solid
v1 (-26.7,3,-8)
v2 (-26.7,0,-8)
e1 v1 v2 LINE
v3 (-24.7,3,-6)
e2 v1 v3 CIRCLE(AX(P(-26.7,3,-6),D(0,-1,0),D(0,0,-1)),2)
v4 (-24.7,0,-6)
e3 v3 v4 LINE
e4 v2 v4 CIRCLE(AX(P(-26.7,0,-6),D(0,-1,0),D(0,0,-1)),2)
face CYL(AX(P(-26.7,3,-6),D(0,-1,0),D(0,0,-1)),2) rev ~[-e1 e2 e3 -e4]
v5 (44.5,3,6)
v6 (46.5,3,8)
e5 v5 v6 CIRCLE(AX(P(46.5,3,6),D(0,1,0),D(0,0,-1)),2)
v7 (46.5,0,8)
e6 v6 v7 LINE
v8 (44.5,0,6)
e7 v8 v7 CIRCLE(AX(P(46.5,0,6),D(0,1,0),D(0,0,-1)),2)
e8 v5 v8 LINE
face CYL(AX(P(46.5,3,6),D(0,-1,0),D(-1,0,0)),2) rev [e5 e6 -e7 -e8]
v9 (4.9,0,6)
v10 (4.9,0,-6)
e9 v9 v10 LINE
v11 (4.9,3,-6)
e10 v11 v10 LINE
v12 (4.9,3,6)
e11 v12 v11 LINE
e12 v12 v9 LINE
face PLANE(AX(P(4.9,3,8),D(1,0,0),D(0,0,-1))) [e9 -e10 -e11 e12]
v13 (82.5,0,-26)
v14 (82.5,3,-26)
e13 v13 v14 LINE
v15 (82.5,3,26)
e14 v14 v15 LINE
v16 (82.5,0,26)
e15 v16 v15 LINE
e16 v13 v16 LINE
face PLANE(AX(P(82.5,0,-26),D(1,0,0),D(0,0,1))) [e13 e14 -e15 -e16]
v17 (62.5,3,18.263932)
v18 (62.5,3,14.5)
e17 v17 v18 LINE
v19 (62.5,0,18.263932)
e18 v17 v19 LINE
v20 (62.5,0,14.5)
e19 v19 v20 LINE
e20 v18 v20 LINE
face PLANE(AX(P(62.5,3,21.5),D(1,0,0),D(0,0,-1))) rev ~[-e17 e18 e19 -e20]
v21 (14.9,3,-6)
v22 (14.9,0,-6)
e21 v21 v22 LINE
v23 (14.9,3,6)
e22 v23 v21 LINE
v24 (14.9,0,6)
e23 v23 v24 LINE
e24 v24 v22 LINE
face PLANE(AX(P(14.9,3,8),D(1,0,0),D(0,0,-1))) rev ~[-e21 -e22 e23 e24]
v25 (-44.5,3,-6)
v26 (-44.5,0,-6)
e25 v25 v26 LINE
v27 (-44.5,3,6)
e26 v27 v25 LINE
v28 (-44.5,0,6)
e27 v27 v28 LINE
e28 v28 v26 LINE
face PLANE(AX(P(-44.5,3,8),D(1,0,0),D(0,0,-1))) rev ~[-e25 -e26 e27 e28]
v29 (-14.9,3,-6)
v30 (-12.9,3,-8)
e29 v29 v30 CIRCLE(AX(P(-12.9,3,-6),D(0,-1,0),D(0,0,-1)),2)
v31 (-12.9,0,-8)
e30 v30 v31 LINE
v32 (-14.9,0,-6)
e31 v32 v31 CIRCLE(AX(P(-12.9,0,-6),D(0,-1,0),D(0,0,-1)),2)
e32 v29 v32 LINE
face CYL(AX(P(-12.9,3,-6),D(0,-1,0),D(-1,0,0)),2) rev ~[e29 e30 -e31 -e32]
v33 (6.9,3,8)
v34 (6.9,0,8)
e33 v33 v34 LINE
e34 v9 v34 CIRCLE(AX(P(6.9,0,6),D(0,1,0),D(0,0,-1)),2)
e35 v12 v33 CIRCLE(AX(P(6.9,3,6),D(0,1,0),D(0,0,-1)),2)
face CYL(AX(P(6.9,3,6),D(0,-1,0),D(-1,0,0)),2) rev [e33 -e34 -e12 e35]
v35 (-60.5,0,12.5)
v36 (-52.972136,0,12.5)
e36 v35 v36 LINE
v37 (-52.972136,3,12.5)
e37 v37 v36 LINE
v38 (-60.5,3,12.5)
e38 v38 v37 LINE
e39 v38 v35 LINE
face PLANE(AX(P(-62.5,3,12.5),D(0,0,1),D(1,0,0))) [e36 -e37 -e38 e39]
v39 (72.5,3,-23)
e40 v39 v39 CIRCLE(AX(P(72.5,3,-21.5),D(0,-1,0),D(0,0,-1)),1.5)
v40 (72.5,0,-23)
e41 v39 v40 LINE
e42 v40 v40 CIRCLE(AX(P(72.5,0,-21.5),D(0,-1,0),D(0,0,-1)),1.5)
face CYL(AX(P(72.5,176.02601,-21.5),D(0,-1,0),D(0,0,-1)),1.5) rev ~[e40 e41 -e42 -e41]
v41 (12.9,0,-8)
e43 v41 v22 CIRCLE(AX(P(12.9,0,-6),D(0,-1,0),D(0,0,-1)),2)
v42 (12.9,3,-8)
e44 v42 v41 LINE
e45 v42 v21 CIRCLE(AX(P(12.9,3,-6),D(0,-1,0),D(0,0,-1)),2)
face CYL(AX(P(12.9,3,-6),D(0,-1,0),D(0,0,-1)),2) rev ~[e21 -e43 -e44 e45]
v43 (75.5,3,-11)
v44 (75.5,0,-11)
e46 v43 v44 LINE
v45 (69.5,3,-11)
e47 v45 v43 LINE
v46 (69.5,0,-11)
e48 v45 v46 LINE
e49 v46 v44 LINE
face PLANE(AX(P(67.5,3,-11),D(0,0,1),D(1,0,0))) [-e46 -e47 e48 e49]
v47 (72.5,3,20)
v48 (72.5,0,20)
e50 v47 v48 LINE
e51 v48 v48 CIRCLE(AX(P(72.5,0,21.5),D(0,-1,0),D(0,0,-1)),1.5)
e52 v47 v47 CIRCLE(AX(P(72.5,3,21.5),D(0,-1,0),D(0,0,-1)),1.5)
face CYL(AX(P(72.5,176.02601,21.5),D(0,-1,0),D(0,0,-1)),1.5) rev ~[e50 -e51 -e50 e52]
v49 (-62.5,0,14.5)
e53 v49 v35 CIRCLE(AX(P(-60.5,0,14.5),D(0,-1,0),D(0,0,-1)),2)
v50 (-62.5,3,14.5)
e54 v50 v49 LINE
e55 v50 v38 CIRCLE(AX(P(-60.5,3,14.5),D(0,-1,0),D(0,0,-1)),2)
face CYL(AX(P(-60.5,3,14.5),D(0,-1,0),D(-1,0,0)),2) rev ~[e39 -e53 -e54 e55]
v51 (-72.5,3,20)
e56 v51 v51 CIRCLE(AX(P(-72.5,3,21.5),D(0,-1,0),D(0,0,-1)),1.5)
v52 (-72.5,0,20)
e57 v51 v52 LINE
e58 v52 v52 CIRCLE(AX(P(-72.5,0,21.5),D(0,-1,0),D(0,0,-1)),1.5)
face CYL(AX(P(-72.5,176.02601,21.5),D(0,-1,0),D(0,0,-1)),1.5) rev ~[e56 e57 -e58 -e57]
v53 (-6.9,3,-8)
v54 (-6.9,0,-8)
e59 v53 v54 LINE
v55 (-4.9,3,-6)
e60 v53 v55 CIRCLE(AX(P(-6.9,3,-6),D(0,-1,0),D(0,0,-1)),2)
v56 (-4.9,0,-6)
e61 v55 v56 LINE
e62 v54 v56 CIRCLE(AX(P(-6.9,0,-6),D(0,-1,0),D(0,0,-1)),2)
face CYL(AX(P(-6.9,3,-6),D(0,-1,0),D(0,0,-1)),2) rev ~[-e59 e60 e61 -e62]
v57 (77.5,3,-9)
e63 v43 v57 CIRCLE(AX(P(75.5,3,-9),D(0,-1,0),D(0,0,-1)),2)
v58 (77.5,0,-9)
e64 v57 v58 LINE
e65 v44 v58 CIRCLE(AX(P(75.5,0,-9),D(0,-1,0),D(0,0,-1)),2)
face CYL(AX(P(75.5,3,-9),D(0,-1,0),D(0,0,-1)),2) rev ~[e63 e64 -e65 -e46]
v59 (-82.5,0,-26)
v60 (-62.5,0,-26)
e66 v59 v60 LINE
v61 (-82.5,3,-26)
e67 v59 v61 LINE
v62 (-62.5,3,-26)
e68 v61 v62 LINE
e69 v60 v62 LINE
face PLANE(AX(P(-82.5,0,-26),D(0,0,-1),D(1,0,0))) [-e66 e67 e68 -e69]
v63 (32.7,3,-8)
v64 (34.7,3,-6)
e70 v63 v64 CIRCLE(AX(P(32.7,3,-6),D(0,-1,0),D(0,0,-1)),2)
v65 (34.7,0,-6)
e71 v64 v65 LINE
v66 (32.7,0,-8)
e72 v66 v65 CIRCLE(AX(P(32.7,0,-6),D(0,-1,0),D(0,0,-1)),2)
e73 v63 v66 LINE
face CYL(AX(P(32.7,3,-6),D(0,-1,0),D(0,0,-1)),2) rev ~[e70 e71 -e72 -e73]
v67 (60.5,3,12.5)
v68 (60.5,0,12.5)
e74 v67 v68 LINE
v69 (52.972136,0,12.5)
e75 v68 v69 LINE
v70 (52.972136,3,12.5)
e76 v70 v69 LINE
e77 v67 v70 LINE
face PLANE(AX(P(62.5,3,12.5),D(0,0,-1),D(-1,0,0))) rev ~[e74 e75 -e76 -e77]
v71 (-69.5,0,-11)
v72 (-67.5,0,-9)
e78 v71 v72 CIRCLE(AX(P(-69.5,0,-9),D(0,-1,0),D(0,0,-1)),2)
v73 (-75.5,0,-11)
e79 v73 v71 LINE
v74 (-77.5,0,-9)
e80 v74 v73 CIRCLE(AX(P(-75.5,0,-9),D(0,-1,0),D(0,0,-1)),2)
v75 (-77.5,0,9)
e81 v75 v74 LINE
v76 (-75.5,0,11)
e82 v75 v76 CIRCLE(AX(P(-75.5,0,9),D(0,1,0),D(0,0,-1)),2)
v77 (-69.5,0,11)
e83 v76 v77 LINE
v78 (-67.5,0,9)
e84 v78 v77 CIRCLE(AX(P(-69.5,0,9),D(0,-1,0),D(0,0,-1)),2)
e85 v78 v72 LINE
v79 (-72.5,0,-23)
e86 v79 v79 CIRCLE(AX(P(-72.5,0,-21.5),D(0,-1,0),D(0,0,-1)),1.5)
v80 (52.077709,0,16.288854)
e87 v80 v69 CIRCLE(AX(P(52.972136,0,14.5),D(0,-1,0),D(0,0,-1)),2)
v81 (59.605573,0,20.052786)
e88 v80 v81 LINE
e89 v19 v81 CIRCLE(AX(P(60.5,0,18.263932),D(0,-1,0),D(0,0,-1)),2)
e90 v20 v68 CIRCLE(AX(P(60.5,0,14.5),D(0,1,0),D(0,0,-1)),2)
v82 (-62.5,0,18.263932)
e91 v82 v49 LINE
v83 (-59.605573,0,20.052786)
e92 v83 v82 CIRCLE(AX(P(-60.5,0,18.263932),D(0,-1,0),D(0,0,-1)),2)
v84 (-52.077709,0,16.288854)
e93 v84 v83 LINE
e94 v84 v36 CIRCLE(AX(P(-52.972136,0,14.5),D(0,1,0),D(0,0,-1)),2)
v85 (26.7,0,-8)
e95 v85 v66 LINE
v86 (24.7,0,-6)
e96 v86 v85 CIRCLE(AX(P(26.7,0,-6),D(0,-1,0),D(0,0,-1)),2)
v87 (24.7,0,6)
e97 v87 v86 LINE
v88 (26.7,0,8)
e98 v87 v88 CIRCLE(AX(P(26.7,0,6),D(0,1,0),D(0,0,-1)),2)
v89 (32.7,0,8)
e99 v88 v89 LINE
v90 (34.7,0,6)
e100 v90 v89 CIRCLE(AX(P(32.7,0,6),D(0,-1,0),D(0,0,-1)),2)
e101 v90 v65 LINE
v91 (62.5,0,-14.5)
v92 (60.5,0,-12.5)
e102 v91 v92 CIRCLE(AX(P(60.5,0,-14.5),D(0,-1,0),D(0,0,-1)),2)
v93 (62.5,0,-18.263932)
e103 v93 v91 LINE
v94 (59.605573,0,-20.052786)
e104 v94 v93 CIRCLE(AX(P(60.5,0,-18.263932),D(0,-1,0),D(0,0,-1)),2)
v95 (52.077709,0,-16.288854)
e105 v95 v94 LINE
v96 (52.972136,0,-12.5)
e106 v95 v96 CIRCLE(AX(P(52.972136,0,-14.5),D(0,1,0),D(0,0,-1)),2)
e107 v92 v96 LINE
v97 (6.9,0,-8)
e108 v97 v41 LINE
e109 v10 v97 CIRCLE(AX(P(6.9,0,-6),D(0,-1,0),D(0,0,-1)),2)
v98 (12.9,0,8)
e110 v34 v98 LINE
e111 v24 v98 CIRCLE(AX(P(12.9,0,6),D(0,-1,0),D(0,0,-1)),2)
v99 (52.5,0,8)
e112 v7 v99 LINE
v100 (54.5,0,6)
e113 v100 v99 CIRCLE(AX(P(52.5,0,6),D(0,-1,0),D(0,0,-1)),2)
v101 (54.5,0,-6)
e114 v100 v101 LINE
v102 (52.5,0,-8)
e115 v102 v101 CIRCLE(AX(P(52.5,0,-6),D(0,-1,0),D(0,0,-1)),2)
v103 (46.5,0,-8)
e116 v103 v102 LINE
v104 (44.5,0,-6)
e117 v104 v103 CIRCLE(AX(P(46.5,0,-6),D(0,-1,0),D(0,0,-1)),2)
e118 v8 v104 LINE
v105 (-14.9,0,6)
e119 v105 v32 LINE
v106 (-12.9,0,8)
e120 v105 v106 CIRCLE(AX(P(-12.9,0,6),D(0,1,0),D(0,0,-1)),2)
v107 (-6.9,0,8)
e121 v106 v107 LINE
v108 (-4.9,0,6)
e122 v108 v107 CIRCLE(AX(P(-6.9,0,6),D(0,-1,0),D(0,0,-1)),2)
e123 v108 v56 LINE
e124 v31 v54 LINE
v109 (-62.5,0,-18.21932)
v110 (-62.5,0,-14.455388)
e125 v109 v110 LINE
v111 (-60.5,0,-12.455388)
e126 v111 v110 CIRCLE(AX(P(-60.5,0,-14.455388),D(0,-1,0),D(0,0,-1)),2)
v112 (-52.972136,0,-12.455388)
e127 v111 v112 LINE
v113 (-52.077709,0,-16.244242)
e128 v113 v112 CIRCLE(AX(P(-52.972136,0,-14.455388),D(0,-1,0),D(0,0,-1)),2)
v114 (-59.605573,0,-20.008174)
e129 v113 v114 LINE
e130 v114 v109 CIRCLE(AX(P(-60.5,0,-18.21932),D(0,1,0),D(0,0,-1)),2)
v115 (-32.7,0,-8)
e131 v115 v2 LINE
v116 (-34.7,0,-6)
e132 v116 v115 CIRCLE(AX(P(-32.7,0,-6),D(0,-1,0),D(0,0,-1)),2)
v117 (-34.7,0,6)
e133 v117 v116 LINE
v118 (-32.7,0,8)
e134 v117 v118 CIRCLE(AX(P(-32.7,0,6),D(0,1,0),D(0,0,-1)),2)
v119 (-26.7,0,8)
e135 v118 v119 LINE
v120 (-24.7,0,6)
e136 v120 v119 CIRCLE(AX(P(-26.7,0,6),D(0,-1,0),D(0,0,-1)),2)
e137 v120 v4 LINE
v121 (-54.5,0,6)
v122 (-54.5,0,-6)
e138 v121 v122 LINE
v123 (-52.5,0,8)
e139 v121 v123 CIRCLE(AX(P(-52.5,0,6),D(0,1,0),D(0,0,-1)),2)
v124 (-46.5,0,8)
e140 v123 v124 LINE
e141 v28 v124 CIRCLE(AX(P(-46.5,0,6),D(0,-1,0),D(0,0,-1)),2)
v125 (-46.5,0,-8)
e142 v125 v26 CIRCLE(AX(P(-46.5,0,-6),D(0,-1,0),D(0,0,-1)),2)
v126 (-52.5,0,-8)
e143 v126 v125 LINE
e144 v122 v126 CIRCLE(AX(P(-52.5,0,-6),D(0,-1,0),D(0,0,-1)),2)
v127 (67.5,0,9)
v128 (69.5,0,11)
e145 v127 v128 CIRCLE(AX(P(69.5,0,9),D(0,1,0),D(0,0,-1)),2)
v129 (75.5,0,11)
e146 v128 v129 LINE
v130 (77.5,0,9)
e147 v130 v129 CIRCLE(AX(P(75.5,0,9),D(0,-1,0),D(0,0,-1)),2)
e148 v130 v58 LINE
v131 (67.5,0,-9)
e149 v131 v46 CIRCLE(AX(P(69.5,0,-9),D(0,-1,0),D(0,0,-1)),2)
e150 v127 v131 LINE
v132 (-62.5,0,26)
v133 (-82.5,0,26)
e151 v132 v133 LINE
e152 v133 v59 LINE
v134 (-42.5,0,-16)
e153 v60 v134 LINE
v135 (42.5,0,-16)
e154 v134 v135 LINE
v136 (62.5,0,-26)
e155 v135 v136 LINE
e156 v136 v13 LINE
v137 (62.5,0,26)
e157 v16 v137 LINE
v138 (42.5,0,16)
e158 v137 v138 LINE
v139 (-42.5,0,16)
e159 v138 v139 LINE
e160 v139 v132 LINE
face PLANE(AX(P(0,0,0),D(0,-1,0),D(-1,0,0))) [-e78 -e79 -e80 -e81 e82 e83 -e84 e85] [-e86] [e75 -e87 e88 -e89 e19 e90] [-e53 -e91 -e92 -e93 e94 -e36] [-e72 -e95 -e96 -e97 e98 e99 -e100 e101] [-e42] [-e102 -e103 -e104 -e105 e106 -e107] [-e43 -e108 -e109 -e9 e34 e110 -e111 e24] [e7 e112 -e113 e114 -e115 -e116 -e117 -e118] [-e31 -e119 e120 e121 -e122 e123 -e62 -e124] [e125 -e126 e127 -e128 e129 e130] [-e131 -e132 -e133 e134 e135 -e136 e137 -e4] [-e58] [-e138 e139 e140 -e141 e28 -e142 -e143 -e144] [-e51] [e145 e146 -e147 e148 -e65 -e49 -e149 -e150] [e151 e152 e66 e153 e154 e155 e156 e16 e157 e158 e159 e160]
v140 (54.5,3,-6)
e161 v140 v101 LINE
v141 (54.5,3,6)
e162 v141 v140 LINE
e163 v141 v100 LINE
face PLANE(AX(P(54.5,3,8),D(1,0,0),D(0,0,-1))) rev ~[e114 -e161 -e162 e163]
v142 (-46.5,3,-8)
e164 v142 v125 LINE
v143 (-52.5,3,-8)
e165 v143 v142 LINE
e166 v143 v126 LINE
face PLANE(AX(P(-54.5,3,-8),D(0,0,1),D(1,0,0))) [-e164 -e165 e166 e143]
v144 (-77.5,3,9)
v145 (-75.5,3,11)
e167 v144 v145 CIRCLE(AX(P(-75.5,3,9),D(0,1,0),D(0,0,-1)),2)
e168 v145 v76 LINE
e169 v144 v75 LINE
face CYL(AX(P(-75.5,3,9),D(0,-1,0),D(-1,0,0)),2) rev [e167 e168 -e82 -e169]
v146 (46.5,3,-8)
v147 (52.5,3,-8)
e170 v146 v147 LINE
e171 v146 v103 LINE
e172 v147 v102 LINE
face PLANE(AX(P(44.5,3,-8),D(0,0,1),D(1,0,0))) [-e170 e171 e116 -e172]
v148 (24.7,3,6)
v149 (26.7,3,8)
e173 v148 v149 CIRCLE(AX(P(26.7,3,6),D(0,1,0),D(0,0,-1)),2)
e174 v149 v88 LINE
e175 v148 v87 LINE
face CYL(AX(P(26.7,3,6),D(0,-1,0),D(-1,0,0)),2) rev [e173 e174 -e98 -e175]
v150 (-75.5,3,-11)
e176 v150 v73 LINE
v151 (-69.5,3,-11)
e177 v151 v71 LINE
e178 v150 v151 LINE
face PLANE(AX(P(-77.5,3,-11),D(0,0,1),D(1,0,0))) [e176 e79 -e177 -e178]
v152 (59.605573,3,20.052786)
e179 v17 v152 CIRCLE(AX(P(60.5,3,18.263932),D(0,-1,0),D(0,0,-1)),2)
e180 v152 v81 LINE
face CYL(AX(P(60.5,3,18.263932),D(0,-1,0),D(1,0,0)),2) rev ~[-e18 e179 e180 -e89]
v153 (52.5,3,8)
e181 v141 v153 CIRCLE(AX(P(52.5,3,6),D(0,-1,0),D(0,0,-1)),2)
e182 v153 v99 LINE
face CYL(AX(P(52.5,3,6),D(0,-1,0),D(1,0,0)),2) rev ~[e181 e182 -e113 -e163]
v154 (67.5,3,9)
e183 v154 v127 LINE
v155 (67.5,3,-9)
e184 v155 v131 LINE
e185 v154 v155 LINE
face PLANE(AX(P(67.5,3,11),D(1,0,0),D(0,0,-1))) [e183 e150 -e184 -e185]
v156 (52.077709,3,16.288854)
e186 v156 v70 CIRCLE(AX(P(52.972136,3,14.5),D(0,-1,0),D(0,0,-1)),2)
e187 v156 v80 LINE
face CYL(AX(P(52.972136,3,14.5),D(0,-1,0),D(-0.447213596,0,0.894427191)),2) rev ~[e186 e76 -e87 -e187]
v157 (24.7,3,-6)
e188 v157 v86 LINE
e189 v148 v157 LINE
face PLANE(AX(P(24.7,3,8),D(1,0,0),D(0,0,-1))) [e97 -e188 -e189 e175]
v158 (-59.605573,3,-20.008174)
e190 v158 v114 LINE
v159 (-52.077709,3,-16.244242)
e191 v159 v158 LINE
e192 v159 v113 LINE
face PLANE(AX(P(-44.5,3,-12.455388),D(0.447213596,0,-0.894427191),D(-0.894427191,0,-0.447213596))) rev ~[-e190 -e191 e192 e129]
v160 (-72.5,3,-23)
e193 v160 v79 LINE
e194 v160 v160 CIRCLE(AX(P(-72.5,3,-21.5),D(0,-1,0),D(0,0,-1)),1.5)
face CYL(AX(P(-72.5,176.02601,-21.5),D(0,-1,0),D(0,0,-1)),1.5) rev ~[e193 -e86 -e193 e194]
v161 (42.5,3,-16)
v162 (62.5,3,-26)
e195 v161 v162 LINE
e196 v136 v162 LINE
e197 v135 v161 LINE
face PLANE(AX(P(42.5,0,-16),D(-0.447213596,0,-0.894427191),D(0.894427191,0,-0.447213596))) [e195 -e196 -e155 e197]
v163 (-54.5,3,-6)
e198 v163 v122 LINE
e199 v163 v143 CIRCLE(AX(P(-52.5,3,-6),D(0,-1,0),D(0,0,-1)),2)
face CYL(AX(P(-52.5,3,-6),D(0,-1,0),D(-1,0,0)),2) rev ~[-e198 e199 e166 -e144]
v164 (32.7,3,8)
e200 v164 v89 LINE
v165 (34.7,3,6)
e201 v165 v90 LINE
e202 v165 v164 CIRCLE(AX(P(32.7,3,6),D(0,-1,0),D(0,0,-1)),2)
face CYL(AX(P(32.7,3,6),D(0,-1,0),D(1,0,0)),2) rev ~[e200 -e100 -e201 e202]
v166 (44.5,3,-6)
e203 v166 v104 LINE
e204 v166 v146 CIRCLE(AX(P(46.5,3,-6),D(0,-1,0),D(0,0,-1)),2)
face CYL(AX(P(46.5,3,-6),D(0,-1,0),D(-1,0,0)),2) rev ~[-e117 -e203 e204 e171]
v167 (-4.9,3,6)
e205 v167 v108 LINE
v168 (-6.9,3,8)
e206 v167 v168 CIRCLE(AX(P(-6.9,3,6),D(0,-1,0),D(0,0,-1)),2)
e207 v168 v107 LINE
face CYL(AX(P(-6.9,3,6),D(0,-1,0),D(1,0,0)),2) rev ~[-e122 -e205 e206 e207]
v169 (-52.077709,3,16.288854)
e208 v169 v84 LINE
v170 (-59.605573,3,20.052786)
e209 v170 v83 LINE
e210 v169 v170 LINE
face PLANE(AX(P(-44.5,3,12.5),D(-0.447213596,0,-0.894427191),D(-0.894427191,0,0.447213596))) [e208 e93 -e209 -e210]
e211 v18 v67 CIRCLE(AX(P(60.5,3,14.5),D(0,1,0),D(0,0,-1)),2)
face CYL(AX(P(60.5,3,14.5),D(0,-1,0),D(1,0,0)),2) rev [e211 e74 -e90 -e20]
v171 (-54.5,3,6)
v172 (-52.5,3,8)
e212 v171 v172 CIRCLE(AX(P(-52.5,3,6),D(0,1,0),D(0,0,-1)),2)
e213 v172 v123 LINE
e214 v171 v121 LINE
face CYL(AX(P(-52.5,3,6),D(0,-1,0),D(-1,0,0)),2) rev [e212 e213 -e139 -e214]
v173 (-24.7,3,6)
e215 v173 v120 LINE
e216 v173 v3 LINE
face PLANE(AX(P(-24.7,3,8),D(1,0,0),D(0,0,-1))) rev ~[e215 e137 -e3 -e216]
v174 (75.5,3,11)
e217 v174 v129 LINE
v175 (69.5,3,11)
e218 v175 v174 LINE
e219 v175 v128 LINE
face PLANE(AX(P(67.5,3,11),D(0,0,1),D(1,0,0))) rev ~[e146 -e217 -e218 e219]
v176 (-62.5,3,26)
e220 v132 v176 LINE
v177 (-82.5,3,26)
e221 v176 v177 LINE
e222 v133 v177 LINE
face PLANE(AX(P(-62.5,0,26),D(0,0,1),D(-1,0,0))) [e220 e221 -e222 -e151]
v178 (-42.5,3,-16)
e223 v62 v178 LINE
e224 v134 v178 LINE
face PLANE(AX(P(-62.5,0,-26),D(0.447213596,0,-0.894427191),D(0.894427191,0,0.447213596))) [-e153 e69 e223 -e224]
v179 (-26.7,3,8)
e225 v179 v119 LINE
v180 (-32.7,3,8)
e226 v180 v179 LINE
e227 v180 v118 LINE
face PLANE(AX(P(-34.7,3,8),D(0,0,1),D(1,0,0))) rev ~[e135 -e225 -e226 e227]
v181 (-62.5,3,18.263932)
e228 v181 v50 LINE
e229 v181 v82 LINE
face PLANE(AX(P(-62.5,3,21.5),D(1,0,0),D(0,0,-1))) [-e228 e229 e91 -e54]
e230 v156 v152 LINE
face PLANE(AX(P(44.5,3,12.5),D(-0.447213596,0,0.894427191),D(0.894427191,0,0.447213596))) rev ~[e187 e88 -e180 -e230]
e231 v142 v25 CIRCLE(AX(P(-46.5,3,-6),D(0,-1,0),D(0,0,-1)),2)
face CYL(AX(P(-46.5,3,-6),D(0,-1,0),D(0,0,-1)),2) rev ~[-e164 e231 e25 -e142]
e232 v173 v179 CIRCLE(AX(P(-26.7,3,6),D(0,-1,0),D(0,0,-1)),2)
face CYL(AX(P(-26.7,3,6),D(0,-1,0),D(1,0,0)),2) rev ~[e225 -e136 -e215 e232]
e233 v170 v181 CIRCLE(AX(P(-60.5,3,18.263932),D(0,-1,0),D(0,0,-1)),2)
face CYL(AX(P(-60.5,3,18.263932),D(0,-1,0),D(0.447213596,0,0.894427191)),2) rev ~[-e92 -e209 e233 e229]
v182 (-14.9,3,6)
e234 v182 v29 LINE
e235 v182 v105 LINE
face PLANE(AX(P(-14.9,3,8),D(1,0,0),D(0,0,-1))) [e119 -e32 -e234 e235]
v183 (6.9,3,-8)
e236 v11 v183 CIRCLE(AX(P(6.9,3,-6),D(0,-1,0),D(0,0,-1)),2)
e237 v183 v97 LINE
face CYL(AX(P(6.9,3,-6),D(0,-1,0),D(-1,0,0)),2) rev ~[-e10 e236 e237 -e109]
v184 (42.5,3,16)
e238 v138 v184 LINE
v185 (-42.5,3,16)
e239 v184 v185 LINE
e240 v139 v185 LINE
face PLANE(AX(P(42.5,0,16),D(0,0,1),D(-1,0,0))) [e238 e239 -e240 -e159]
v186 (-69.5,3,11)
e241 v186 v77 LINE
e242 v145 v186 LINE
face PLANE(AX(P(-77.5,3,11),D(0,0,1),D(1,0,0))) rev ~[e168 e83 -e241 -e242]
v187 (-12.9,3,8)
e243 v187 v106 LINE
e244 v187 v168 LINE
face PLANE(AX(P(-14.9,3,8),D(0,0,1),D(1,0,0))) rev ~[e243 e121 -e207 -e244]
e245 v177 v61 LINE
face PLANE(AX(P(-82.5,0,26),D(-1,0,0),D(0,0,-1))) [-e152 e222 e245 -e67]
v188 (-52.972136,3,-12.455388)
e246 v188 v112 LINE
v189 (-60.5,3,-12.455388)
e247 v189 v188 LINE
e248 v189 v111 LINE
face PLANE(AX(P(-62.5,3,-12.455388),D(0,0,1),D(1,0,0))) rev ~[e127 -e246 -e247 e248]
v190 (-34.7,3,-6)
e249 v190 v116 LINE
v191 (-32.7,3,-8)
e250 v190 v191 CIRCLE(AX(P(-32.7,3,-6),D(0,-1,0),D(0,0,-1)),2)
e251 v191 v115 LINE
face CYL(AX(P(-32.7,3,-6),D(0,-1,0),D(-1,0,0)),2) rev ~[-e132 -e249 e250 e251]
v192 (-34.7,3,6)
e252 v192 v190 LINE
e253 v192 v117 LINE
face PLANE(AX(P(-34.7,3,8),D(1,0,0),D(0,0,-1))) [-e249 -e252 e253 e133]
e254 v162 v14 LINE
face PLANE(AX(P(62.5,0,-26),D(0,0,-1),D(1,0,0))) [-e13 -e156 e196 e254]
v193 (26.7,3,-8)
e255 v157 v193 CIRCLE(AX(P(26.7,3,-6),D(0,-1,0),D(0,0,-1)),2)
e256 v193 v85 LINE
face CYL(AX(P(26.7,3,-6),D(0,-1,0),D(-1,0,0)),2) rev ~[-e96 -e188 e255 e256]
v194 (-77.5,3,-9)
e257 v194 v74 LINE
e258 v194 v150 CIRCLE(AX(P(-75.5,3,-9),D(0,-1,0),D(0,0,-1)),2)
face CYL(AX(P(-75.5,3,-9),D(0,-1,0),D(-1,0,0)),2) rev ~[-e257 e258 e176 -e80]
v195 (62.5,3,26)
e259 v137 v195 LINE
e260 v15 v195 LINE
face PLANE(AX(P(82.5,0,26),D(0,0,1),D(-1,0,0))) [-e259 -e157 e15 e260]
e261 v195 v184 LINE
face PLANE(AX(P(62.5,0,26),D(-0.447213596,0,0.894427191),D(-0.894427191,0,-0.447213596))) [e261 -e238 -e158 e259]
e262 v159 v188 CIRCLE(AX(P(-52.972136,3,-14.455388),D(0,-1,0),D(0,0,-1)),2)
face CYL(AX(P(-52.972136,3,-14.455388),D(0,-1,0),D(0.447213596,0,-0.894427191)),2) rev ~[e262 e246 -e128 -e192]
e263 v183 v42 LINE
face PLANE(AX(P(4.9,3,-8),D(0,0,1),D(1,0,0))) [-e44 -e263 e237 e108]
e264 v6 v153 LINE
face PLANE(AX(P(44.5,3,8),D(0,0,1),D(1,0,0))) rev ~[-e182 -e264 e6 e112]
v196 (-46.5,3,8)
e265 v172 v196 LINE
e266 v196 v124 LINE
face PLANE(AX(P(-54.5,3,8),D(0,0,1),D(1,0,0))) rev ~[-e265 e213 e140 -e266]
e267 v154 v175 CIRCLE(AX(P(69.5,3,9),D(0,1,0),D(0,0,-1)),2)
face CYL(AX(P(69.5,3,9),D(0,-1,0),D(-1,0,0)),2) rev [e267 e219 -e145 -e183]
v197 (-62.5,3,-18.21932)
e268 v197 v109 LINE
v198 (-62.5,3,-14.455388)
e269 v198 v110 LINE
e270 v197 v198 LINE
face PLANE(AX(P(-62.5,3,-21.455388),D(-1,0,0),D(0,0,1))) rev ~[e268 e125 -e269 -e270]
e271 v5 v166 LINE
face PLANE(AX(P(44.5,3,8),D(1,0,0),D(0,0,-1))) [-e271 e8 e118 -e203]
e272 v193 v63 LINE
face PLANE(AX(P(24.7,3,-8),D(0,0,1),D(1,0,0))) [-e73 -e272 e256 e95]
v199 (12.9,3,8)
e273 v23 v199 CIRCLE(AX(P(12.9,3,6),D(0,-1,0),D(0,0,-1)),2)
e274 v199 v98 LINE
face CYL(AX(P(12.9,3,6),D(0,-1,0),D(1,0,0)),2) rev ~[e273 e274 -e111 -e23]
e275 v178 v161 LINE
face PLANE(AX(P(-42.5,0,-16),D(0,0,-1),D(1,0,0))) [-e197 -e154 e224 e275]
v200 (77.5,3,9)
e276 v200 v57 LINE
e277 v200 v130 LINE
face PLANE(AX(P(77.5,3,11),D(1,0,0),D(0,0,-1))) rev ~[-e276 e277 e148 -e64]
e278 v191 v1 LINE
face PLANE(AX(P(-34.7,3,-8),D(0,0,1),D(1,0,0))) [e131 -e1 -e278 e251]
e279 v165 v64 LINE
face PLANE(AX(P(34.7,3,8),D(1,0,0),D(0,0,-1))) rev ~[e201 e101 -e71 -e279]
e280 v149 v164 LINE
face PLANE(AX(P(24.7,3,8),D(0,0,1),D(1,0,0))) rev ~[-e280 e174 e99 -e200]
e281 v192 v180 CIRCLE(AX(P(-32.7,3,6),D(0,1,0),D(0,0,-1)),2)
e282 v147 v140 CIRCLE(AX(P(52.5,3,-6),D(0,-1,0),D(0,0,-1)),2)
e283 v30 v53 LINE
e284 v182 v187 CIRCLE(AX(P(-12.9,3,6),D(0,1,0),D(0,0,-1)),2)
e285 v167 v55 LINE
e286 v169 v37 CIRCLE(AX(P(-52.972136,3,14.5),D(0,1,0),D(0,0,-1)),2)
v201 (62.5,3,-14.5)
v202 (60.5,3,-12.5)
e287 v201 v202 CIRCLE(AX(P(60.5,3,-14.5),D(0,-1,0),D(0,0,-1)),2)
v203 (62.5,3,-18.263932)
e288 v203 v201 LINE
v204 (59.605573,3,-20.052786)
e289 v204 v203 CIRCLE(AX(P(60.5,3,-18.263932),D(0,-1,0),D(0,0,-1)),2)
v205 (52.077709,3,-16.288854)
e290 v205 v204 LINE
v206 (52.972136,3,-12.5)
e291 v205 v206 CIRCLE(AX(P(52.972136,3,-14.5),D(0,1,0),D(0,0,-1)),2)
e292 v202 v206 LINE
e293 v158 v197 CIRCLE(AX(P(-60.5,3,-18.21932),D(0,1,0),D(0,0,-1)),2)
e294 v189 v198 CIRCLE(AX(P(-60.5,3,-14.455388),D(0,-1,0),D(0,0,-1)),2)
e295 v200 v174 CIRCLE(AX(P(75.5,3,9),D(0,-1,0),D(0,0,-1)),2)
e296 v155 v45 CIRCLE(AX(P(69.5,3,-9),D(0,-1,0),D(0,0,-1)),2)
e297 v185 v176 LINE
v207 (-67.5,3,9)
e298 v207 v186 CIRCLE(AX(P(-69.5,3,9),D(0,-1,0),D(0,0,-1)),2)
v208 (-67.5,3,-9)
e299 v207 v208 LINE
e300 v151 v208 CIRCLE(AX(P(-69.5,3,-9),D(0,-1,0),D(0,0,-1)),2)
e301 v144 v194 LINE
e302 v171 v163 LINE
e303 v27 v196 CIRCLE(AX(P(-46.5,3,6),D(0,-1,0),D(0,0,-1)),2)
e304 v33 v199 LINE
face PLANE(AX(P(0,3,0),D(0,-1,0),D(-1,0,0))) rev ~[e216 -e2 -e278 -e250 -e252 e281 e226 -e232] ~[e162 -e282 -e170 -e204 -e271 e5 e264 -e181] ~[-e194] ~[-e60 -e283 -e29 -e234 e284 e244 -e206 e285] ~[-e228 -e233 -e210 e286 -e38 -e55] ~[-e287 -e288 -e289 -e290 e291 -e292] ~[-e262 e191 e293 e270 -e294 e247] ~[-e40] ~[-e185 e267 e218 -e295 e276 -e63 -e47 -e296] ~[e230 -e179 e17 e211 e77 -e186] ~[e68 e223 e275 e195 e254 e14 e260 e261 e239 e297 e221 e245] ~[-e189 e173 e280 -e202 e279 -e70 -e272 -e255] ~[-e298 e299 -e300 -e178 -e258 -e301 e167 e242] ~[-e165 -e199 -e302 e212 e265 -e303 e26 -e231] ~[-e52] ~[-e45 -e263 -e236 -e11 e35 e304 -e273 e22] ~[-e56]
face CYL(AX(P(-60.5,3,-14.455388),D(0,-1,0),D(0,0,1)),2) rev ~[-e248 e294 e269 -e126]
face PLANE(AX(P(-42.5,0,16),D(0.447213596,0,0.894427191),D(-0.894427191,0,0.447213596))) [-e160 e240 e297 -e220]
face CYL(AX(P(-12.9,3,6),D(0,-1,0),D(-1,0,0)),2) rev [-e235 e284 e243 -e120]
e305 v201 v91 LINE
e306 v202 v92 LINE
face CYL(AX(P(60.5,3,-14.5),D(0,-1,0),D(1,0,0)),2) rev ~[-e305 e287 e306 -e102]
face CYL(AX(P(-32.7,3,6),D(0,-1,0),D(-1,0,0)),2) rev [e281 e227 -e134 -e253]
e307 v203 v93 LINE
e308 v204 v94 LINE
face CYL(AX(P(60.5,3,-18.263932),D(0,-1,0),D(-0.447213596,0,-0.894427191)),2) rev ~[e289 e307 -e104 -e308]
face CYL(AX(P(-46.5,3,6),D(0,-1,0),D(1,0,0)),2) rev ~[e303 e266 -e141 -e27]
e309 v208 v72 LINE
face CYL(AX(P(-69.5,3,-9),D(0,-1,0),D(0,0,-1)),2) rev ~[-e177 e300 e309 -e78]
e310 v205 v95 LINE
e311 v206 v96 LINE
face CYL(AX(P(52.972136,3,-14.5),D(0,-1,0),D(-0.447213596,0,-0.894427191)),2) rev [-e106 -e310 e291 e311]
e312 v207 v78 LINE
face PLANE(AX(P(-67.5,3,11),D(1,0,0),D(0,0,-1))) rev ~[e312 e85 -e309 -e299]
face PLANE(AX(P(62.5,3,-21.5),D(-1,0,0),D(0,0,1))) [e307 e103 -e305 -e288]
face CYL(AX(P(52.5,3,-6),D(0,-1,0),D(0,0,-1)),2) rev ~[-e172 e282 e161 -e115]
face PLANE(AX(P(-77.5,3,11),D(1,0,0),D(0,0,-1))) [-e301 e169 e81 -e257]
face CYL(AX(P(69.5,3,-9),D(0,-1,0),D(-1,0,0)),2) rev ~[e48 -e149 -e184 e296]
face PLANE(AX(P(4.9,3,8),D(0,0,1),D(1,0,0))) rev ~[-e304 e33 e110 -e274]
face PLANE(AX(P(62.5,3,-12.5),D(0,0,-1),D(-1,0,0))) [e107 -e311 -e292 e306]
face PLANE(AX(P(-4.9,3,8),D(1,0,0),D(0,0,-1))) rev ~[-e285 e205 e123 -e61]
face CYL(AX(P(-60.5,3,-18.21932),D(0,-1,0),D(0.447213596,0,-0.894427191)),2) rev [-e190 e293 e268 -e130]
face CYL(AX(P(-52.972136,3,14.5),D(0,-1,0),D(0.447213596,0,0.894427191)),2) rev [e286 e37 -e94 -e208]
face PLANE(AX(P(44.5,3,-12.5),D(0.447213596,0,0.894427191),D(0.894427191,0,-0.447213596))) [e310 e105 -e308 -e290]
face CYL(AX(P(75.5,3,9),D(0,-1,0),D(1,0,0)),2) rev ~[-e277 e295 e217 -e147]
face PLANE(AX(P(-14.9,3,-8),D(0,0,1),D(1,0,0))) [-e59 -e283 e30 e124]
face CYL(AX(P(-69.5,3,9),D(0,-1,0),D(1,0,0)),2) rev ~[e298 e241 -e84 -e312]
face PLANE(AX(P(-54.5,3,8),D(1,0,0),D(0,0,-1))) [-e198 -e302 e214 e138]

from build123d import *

# Parameters (mm, degrees)
EXTRUDE_2_DEPTH       = 3
HOLE_WIZARD_3_0_3_6_D = 3
SKETCH_9_W            = 10
SKETCH_9_H            = 22
SKETCH_9_H_2          = 16
CUT_EXTRUDE_1_DEPTH   = 3
FILLET_1_R            = 2


with BuildPart() as part:
    # Sketch 1 → Extrude 2 (new body)
    with BuildSketch(Plane(origin=(0, 0, 0), x_dir=(1, 0, 0), z_dir=(0, 1, 0))):
        Polygon((-82.5, 26), (-62.5, 26), (-42.5, 16), (42.5, 16), (62.5, 26), (82.5, 26), (82.5, -26), (62.5, -26), (42.5, -16), (-42.5, -16), (-62.5, -26), (-82.5, -26), align=None)
    extrude(amount=EXTRUDE_2_DEPTH)

    # Hole Wizard 3.0 _3_ _6 (through all)
    with Locations(Plane(origin=(-72.5, 3, -21.5), x_dir=(0, 0, 1), z_dir=(0, 1, 0))):
        with Locations((0, 0), (0, 145), (43, 145), (43, 0)):
            Hole(HOLE_WIZARD_3_0_3_6_D / 2)

    # Sketch 9 → Cut-Extrude 1 (cut)
    with BuildSketch(Plane(origin=(0, 3, 0), x_dir=(1, 0, 0), z_dir=(0, 1, 0))):
        with Locations((-72.5, 0)):
            Rectangle(SKETCH_9_W, SKETCH_9_H)
        with Locations((72.5, 0)):
            Rectangle(SKETCH_9_W, SKETCH_9_H)
        Polygon((-62.5, 21.455387521), (-62.5, 12.455387521), (-44.5, 12.455387521), align=None)
        Polygon((44.5, 12.5), (62.5, 21.5), (62.5, 12.5), align=None)
        Polygon((62.5, -12.5), (44.5, -12.5), (62.5, -21.5), align=None)
        Polygon((-44.5, -12.5), (-62.5, -21.5), (-62.5, -12.5), align=None)
        with Locations((-49.5, 0)):
            Rectangle(SKETCH_9_W, SKETCH_9_H_2)
        with Locations((-29.7, 0)):
            Rectangle(SKETCH_9_W, SKETCH_9_H_2)
        with Locations((-9.9, 0)):
            Rectangle(SKETCH_9_W, SKETCH_9_H_2)
        with Locations((29.7, 0)):
            Rectangle(SKETCH_9_W, SKETCH_9_H_2)
        with Locations((49.5, 0)):
            Rectangle(SKETCH_9_W, SKETCH_9_H_2)
        with Locations((9.9, 0)):
            Rectangle(SKETCH_9_W, SKETCH_9_H_2)
    extrude(amount=-CUT_EXTRUDE_1_DEPTH, mode=Mode.SUBTRACT)

    # Fillet 1
    fillet_1_edges = [part.edges().sort_by_distance(p)[0] for p in [
        (-67.5, 1.5, -11),
        (-67.5, 1.5, 11),
        (-77.5, 1.5, 11),
        (-77.5, 1.5, -11),
        (14.9, 1.5, 8),
        (4.9, 1.5, 8),
        (4.9, 1.5, -8),
        (14.9, 1.5, -8),
        (34.7, 1.5, 8),
        (24.7, 1.5, 8),
        (24.7, 1.5, -8),
        (34.7, 1.5, -8),
        (54.5, 1.5, -8),
        (54.5, 1.5, 8),
        (44.5, 1.5, 8),
        (44.5, 1.5, -8),
        (62.5, 1.5, -12.5),
        (44.5, 1.5, -12.5),
        (62.5, 1.5, -21.5),
        (62.5, 1.5, 12.5),
        (62.5, 1.5, 21.5),
        (44.5, 1.5, 12.5),
        (-62.5, 1.5, -21.455387521),
        (-44.5, 1.5, -12.455387521),
        (-62.5, 1.5, -12.455387521),
        (77.5, 1.5, -11),
        (77.5, 1.5, 11),
        (67.5, 1.5, 11),
        (67.5, 1.5, -11),
        (-62.5, 1.5, 12.5),
        (-44.5, 1.5, 12.5),
        (-62.5, 1.5, 21.5),
        (-44.5, 1.5, -8),
        (-44.5, 1.5, 8),
        (-54.5, 1.5, 8),
        (-54.5, 1.5, -8),
        (-24.7, 1.5, 8),
        (-34.7, 1.5, 8),
        (-34.7, 1.5, -8),
        (-24.7, 1.5, -8),
        (-4.9, 1.5, 8),
        (-14.9, 1.5, 8),
        (-14.9, 1.5, -8),
        (-4.9, 1.5, -8),
    ]]
    fillet(fillet_1_edges, radius=FILLET_1_R)


solid = part.part
